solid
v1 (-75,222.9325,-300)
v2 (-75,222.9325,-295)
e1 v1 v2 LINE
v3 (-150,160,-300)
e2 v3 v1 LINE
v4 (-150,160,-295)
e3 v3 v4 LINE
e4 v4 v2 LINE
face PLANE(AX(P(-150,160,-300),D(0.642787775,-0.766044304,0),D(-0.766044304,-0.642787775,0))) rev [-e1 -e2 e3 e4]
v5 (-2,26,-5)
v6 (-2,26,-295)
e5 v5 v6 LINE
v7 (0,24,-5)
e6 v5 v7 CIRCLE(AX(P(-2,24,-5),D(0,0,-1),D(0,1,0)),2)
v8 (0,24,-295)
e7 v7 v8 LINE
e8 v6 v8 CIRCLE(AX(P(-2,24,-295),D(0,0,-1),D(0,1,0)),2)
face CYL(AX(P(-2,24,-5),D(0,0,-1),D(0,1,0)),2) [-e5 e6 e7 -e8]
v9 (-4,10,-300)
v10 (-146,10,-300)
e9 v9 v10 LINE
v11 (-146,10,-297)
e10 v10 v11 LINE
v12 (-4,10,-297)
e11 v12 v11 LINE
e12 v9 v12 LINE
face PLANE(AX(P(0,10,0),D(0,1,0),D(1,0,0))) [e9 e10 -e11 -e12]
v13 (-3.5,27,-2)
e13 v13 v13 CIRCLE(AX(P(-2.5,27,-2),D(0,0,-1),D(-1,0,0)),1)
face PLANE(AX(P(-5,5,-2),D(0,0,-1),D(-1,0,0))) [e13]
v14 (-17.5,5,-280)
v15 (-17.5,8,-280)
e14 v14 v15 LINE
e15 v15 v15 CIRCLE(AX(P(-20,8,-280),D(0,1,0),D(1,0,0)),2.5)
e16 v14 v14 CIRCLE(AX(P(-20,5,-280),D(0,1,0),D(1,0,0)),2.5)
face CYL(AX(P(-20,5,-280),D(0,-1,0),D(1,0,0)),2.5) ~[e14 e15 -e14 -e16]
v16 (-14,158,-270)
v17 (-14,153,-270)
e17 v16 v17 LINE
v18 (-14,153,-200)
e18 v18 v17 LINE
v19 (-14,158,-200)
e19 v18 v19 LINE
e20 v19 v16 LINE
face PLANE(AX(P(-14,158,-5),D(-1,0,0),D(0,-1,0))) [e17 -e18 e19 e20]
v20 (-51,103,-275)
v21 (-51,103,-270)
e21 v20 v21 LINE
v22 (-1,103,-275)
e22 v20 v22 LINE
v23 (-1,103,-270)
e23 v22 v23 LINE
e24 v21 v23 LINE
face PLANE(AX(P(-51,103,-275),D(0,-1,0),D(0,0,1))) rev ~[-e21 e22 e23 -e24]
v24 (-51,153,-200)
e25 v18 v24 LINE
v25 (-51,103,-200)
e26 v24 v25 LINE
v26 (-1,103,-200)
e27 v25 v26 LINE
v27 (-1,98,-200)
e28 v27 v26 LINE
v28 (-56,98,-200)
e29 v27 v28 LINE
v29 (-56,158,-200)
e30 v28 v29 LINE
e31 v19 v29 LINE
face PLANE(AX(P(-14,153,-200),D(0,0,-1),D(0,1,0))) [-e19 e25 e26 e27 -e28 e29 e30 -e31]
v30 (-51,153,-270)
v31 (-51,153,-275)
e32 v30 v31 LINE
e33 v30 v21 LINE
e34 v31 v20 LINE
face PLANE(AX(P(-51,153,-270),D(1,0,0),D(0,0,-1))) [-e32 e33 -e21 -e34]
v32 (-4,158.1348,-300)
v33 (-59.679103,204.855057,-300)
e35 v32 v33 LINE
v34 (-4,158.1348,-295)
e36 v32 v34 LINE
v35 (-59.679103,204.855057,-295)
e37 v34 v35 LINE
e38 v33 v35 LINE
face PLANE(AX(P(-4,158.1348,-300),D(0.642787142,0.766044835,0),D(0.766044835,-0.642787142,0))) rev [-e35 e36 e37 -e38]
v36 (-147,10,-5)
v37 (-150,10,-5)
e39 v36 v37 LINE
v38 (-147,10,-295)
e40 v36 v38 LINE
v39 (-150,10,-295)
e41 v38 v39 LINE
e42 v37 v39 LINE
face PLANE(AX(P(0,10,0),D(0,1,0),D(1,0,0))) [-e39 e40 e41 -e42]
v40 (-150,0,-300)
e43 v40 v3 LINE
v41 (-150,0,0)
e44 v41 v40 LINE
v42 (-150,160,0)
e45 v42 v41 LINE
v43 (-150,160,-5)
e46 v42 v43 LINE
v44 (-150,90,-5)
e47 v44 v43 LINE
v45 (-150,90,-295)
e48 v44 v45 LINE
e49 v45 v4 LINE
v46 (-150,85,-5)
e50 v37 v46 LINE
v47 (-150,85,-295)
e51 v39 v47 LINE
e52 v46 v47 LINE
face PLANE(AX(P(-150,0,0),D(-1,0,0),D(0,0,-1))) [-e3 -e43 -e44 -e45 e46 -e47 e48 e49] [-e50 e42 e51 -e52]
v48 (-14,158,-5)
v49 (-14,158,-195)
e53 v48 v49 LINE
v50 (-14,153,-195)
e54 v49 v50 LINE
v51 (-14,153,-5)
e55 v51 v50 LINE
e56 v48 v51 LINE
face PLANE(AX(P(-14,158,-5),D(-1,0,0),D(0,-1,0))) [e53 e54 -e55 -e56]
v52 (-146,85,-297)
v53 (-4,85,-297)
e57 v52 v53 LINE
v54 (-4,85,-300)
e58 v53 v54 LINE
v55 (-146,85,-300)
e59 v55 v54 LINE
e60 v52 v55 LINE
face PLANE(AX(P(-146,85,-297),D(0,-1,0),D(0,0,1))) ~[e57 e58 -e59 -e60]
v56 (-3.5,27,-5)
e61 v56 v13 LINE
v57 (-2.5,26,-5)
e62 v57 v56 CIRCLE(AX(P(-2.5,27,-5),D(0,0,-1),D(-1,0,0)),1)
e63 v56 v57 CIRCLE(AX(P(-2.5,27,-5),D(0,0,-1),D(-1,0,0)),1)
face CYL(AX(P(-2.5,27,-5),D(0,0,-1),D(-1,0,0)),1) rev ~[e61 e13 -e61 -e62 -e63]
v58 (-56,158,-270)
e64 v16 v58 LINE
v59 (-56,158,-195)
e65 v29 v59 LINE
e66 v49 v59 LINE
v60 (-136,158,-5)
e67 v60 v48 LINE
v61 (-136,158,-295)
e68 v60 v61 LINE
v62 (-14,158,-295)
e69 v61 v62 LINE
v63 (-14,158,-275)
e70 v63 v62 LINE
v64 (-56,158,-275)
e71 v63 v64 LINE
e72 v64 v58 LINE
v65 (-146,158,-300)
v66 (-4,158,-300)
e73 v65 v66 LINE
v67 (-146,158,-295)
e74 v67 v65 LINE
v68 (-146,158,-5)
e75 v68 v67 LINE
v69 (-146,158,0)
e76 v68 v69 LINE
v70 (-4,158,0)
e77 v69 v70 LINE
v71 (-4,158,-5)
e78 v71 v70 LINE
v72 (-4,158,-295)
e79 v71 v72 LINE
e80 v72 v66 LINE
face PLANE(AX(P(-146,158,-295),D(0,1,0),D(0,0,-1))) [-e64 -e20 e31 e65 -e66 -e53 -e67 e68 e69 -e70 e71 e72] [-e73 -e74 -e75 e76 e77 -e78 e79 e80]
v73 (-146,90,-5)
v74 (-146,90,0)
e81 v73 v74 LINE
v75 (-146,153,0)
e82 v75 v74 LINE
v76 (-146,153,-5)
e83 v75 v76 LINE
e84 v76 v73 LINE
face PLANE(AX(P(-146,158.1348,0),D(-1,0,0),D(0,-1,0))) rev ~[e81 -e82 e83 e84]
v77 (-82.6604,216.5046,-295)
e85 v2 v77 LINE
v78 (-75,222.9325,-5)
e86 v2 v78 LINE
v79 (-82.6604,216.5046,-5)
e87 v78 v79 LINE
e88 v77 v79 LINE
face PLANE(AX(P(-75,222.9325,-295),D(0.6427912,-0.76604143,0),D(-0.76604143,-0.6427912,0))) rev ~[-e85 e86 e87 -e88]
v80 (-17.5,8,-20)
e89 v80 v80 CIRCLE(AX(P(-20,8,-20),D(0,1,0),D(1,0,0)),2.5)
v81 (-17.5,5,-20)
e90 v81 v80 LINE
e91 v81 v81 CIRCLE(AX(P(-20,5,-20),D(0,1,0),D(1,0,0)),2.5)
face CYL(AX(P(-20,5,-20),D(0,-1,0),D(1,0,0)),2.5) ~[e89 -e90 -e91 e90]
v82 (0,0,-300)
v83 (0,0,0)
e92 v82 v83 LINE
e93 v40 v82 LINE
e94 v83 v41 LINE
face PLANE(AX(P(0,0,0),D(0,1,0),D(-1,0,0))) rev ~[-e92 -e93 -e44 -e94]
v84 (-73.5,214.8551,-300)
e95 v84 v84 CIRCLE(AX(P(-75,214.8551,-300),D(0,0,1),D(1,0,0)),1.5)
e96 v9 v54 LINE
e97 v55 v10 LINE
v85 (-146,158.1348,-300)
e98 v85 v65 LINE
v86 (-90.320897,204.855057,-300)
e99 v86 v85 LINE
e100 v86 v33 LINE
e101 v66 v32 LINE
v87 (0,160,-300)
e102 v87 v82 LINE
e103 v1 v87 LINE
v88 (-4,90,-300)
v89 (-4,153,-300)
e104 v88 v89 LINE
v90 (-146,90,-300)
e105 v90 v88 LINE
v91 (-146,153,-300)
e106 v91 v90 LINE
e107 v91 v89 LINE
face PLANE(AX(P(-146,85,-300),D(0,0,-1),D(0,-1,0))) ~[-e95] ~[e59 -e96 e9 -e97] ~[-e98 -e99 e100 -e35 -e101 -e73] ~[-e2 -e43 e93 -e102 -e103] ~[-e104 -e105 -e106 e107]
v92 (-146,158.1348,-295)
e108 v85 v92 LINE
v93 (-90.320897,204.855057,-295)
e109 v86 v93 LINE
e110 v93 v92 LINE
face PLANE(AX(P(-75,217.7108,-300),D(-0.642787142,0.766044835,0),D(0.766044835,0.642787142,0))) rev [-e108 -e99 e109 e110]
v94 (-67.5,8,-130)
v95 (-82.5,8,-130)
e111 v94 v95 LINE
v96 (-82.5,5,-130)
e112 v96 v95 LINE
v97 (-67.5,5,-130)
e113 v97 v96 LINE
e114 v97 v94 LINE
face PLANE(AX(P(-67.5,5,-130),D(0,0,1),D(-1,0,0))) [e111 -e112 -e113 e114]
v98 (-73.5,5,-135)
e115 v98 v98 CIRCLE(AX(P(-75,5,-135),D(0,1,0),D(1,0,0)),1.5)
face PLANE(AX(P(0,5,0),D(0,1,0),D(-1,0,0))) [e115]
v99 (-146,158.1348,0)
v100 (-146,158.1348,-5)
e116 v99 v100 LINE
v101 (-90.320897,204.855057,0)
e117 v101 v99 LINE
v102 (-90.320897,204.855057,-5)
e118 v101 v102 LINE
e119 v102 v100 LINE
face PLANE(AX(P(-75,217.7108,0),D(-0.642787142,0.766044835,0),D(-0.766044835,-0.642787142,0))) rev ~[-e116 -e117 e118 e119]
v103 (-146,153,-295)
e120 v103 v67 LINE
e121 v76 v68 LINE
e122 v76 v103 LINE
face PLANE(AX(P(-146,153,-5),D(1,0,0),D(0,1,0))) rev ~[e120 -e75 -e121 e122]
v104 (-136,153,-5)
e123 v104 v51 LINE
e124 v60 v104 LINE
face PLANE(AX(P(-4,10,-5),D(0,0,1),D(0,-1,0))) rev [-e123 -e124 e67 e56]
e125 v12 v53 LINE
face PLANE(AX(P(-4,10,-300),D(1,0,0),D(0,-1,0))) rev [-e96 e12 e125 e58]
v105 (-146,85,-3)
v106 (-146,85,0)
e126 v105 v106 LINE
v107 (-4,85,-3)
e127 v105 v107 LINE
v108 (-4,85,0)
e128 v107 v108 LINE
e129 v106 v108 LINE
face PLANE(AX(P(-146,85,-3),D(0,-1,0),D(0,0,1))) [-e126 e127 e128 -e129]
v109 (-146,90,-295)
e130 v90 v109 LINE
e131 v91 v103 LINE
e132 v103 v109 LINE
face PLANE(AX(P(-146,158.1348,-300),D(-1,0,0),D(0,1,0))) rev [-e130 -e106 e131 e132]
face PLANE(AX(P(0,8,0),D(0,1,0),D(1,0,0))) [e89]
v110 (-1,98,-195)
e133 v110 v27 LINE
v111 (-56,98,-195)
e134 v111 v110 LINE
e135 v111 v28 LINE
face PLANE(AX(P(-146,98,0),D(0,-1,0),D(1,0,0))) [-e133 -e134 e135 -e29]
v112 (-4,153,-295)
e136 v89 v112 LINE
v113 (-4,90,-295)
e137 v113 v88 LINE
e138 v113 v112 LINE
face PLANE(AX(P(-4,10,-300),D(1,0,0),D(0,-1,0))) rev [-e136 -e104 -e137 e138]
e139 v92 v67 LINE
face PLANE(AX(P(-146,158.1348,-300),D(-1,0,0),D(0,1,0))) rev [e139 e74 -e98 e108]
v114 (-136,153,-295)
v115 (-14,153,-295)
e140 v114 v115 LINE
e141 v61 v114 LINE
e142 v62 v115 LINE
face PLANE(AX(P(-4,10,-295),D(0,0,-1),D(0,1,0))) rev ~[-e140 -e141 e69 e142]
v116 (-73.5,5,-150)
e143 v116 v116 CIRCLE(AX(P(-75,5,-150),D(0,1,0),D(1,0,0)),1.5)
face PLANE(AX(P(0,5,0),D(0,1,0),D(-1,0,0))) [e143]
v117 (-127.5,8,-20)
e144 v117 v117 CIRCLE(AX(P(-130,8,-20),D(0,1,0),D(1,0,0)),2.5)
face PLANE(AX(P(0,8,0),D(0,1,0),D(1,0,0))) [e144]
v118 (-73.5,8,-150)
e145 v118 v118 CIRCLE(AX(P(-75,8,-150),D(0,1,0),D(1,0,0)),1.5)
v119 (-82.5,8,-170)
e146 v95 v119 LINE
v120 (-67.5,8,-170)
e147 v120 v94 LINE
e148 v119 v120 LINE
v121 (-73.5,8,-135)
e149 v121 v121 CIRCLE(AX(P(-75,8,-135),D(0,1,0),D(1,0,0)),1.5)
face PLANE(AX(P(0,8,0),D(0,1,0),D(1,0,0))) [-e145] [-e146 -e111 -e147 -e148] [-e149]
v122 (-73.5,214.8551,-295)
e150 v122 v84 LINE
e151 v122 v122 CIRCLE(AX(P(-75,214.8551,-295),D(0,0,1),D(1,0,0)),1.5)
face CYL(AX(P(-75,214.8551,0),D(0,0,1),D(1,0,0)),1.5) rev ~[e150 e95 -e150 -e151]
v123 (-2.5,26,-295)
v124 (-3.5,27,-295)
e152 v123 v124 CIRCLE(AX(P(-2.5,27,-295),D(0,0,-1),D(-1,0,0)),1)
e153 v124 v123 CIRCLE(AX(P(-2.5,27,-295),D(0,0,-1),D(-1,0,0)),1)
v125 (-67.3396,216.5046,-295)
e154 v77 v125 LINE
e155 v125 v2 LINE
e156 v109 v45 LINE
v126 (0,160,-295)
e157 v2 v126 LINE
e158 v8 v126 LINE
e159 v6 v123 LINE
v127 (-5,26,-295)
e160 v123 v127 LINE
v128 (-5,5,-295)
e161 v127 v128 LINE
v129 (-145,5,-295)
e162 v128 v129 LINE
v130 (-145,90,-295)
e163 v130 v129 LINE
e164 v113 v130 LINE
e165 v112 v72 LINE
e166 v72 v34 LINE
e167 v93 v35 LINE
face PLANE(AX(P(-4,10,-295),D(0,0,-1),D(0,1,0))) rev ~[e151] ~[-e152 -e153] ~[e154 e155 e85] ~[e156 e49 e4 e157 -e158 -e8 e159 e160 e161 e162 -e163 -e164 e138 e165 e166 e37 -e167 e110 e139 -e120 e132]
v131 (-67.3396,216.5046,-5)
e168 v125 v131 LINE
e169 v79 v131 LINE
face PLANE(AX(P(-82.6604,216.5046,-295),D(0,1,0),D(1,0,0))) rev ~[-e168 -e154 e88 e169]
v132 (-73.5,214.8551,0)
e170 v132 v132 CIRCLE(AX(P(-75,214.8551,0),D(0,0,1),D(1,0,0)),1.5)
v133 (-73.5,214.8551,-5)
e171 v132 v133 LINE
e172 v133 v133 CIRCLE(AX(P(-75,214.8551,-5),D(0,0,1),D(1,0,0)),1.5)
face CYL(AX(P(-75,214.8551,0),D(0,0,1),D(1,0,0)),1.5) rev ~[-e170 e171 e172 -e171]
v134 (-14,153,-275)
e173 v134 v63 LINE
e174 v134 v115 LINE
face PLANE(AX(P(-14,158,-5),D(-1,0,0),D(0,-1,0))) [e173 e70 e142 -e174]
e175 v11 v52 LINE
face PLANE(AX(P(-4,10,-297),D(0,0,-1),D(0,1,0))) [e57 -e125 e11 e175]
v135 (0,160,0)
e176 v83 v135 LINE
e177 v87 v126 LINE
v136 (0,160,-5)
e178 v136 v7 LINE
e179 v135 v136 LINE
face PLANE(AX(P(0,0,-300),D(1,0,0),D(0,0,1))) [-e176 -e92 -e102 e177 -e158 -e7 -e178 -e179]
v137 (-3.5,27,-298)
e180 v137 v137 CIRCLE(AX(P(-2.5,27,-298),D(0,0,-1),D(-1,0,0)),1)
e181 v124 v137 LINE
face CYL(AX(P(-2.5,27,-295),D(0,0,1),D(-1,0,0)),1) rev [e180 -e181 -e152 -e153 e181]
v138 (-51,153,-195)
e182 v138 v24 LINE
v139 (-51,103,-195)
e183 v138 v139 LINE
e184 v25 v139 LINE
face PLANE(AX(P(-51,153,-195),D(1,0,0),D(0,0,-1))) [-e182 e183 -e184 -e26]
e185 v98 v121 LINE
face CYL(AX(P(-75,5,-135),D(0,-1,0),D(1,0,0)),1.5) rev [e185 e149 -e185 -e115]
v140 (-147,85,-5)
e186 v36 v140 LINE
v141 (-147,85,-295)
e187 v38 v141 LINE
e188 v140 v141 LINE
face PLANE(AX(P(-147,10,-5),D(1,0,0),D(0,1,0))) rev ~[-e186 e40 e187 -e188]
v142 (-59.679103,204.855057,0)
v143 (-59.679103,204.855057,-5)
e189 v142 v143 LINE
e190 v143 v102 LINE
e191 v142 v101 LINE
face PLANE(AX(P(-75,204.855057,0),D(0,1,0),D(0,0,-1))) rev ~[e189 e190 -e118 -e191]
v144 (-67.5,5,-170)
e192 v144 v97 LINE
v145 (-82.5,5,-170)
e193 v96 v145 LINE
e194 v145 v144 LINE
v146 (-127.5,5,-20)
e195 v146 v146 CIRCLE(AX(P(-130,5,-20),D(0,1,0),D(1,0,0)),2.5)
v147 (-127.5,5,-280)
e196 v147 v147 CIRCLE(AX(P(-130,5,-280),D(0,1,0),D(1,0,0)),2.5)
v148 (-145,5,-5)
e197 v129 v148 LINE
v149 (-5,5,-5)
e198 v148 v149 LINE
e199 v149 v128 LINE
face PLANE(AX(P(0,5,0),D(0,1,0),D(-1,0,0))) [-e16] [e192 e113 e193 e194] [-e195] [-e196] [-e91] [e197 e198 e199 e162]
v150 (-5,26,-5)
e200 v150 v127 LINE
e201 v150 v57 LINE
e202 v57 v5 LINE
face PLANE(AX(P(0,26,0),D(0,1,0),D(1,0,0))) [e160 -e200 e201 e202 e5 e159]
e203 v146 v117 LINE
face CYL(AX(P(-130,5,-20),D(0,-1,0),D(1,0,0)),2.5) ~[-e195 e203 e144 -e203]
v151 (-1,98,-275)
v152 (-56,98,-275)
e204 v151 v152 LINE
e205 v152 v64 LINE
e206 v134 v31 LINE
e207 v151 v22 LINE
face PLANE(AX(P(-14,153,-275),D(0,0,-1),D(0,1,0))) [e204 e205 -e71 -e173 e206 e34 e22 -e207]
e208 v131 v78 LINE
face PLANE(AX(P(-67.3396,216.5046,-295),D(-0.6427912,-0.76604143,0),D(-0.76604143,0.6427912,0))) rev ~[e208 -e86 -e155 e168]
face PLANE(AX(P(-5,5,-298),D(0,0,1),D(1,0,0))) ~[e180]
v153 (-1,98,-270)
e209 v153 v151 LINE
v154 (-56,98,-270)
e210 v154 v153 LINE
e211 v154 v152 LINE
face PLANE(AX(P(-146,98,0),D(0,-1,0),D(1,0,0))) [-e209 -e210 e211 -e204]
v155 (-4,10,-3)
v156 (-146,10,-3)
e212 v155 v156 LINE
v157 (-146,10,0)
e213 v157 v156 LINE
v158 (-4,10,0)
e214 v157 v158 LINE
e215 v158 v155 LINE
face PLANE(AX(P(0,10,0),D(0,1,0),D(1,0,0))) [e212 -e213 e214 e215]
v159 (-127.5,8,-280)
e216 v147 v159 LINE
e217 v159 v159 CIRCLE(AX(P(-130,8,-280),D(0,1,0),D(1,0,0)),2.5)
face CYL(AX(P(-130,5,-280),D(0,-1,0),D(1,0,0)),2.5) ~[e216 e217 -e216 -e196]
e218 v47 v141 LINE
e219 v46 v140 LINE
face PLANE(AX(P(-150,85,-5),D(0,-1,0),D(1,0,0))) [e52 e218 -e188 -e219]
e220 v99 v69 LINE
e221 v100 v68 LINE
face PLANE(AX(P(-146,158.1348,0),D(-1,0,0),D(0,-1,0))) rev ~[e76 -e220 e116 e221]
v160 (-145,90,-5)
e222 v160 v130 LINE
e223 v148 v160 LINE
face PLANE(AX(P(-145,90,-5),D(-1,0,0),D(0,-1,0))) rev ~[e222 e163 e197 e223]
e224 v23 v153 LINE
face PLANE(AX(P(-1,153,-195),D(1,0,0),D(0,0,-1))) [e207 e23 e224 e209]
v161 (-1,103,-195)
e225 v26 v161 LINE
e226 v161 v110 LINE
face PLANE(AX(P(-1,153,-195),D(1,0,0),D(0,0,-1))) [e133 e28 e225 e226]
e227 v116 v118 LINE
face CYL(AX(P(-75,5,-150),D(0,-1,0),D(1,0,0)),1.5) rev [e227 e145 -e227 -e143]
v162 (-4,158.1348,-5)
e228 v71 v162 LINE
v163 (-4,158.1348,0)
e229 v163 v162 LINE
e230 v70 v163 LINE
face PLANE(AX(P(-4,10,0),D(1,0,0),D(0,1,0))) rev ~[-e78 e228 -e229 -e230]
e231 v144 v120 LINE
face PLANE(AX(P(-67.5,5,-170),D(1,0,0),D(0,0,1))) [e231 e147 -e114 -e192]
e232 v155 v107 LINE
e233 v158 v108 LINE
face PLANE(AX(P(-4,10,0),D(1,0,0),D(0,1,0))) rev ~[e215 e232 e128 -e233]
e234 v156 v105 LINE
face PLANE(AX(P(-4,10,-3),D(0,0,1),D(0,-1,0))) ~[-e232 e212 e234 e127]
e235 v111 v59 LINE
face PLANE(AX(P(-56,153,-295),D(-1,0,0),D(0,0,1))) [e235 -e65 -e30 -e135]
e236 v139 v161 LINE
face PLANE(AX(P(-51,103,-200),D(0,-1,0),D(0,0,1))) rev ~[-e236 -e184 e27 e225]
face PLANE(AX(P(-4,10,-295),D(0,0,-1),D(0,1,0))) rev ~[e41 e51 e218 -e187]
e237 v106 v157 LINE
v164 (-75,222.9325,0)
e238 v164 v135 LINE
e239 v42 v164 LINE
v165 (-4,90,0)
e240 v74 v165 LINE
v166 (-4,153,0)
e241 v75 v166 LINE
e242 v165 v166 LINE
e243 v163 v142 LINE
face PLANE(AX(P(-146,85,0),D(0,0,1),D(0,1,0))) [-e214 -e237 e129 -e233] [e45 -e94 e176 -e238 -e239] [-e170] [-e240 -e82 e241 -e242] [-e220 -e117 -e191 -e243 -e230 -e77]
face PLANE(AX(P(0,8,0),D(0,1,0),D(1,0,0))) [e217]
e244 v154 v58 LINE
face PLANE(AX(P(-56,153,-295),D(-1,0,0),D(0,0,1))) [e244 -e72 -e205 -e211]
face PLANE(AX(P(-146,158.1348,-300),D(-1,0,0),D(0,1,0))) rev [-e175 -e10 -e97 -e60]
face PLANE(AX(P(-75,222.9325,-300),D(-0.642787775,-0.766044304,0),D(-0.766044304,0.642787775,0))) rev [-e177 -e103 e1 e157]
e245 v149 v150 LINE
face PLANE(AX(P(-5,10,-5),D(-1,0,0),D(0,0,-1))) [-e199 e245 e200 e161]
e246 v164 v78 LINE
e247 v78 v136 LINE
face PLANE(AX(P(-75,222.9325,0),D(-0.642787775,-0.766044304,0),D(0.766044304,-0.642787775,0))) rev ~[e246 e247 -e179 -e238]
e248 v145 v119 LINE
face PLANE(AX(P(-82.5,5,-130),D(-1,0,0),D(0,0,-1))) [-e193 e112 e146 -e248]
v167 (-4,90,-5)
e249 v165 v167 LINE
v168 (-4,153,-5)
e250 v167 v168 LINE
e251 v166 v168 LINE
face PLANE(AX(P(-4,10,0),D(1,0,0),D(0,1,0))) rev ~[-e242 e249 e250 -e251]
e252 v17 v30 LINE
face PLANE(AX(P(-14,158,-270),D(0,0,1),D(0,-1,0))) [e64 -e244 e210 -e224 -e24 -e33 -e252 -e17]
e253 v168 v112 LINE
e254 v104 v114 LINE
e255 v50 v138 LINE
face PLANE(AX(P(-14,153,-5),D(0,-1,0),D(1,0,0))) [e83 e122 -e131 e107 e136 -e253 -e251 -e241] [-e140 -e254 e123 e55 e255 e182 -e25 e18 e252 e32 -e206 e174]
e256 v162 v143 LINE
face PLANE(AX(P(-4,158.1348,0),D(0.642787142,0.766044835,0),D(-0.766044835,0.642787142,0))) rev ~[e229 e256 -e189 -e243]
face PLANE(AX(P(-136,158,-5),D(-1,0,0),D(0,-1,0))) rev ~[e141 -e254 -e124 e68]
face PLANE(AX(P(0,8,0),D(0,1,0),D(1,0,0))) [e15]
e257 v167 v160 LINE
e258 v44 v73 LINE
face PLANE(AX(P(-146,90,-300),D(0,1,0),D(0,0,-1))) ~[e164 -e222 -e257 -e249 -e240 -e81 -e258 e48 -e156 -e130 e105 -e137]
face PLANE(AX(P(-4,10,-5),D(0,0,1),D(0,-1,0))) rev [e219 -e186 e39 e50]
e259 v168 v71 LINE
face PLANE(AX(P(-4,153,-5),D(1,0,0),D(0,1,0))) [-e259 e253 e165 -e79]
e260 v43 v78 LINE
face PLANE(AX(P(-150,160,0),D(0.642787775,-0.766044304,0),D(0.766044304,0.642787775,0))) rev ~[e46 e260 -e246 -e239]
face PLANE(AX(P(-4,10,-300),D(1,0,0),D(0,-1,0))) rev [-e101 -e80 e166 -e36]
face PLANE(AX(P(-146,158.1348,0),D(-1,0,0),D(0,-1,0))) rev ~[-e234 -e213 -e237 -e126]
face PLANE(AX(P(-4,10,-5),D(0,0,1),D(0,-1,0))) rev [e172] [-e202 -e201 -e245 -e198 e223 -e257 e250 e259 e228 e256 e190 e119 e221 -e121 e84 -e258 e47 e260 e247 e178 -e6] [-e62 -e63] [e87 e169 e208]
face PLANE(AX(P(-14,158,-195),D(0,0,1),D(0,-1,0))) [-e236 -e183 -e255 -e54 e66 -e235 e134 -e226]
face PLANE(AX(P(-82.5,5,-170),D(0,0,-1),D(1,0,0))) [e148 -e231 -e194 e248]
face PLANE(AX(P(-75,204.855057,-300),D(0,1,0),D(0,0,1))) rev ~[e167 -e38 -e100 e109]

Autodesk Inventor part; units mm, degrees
ref_plane "YZ Plane" through (0, 0, 0) normal (1, 0, 0) x (0, 1, 0)
ref_plane "XZ Plane" through (0, 0, 0) normal (0, 1, 0) x (-1, 0, 0)
sketch "Sketch1" plane through (0, 0, 0) normal (0, 1, 0) x (-1, 0, 0)
  line L0 (0, 0) -> (150, 0)
  line L1 (150, 0) -> (150, -300)
  line L2 (150, -300) -> (0, -300)
  line L3 (0, -300) -> (0, 0)
  dimension "d0" = 150
  dimension "d1" = 300
extrude "Extrusion1" add sketch "Sketch1" along normal blind 5
sketch "Sketch2" plane through (0, 5, 0) normal (0, 1, 0) x (1, 0, 0)
  line L0 (-150, 0) -> (0, 0) projected
  line L1 (0, 300) -> (-150, 300) projected
  line L2 (0, 0) -> (-150, 0)
  line L3 (-150, 0) -> (-150, 300)
  line L4 (-150, 300) -> (0, 300)
  line L5 (0, 300) -> (0, 0)
  line L6 (-145, 295) -> (-145, 5)
  line L7 (-145, 5) -> (-5, 5)
  line L8 (-5, 5) -> (-5, 295)
  line L9 (-5, 295) -> (-145, 295)
  line L10 (-5, 5) -> (-145, 5)
  line L11 (-145, 5) -> (-145, 295)
  line L12 (-145, 295) -> (-5, 295)
  line L13 (-5, 295) -> (-5, 5)
  line L14 (0, 0) -> (-150, 0)
  line L15 (-150, 0) -> (-150, 300)
  line L16 (-150, 300) -> (0, 300)
  line L17 (0, 300) -> (0, 0)
  point P0 (0, 300)
  point P1 (-150, 0)
  dimension "d4" = 5
extrude "Extrusion2" add sketch "Sketch2" along normal blind 5
sketch "Sketch3" plane through (-150, 0, 0) normal (0, 0, 1) x (1, 0, 0)
  line L0 (150, 10) -> (0, 10) projected
  line L1 (0, 10) -> (150, 10)
  line L2 (0, 10) -> (150, 10)
  line L3 (150, 10) -> (150, 160)
  line L4 (0, 10) -> (0, 160)
  line L5 (0, 160) -> (75, 222.9325)
  line L6 (75, 222.9325) -> (150, 160)
  line L7 (146, 10) -> (146, 158.1348)
  line L8 (146, 158.1348) -> (75, 217.7108)
  line L9 (75, 217.7108) -> (4, 158.1348)
  line L10 (4, 158.1348) -> (4, 10)
  line L11 (5, 10) -> (145, 10) projected
  line L12 (5, 10) -> (0, 10)
  line L13 (145, 10) -> (150, 10)
  point P0 (150, 0)
  dimension "d7" = 150
  dimension "d8" = 150
  dimension "d9" = 130
  dimension "d10" = 130
  dimension "d11" = 4
extrude "Extrusion3" add sketch "Sketch3" against normal blind 5 contours L0 L7 L8 L9 L10 L4 L5 L6 L3
ref_plane "Work Plane1" through (-150, 0, -150) normal (0, 0, 1) x (1, 0, 0)
mirror "Mirror1" about plane through (-150, 0, -150) normal (0, 0, 1) of "Extrusion3"
sketch "Sketch4" plane through (-150, 0, -5) normal (0, 0, -1) x (-1, 0, 0)
  line L0 (-145, 10) -> (-5, 10) projected
  line L1 (-5, 10) -> (-3, 10)
  line L2 (-3, 10) -> (-3, 90)
  line L3 (-3, 90) -> (-5, 90)
  line L4 (-5, 90) -> (-5, 10)
  point P0 (-150, 0)
  dimension "d14" = 2
  dimension "d15" = 80
extrude "Extrusion4" add sketch "Sketch4" along normal up to surface (290 mm away)
sketch "Sketch5" plane through (-4, 10, -300) normal (-1, 0, 0) x (0, 0, 1)
  line L0 (5, 0) -> (5, 80) projected
  line L1 (5, 0) -> (3, 0)
  line L2 (3, 0) -> (3, 80)
  line L3 (3, 80) -> (5, 80)
  line L4 (5, 80) -> (5, 0)
  point P0 (300, -10)
  point P1 (5, 80)
  dimension "d18" = 2
  dimension "d40" = 80
extrude "Extrusion5" add sketch "Sketch5" along normal up to surface (142 mm away)
mirror "Mirror2" about plane through (-150, 0, -150) normal (0, 0, 1) of "Extrusion5"
sketch "Sketch12" plane through (-146, 10, 0) normal (1, 0, 0) x (0, 0, -1)
  line L0 (3, 0) -> (3, 80) construction
  line L1 (3, 80) -> (3, 75)
  line L2 (3, 75) -> (0, 75)
  line L3 (0, 0) -> (0, 148.1348) construction
  line L4 (0, 75) -> (0, 80)
  line L5 (0, 80) -> (3, 80)
  point P0 (0, -10)
  dimension "d43" = 5
extrude "Extrusion10" add sketch "Sketch12" along normal up to surface (142 mm away)
mirror "Mirror4" about plane through (-150, 0, -150) normal (0, 0, 1) of "Extrusion10"
sketch "Sketch13" plane through (-5, 5, -5) normal (0, 0, -1) x (-1, 0, 0)
  line L0 (141, 85) -> (-1, 85) construction
  line L1 (145, -5) -> (145, 155) construction
  line L2 (141, 85) -> (145, 85)
  line L3 (145, 85) -> (145, 80)
  line L4 (145, 80) -> (141, 80)
  line L5 (141, 80) -> (141, 85)
  point P0 (-5, -5)
  dimension "d46" = 5
extrude "Extrusion11" add sketch "Sketch13" along normal up to surface (290 mm away)
chamfer "Chamfer1" distance 20 angle 45 1 edges at (-75, 217.7108, -297.5)
chamfer "Chamfer2" distance 20 angle 45 1 edges at (-75, 217.7108, -2.5)
sketch "Sketch16" plane through (-150, 0, 0) normal (0, 0, 1) x (1, 0, 0)
  circle A0 centre (75, 214.8551) radius 1.5
  line L0 (90.3209, 204.8551) -> (59.6791, 204.8551) projected
  point P0 (150, 0)
  point P1 (75, 204.8551)
  point P2 (75, 222.9325)
  dimension "d62" = 3
  dimension "d63" = 10
extrude "Extrusion14" cut sketch "Sketch16" against normal blind 310.0375
sketch "Sketch17" plane through (-145, 5, -295) normal (0, 0, 1) x (1, 0, 0)
  line L0 (145, 155) -> (70, 217.9325) construction
  line L1 (70, 217.9325) -> (62.3396, 211.5046)
  line L2 (70, 217.9325) -> (-5, 155) construction
  line L3 (62.3396, 211.5046) -> (77.6604, 211.5046)
  line L4 (77.6604, 211.5046) -> (70, 217.9325)
  point P0 (145, -5)
  dimension "d70" = 10
extrude "Extrusion15" add sketch "Sketch17" along normal up to surface (290 mm away)
sketch "Sketch19" plane through (-146, 158.1348, -295) normal (1, 0, 0) x (0, 0, -1)
  line L0 (5, 1.8652) -> (0, 1.8652) construction
  line L1 (0, 1.8652) -> (0, 58.3698) construction
  line L2 (0, 1.8652) -> (5, 1.8652) construction
  line L3 (0, 1.8652) -> (0, -0.1348) construction
  line L4 (0, -68.1348) -> (0, 1.8652) construction
  line L5 (0, -0.1348) -> (5, -0.1348) construction
  line L6 (5, -158.1348) -> (5, 1.8652) construction
  line L7 (5, 64.7977) -> (5, 1.8652) construction
  line L8 (5, -0.1348) -> (5, 1.8652) construction
  line L9 (0, -0.1348) -> (5, -0.1348)
  line L10 (5, -0.1348) -> (5, -5.1348)
  line L11 (5, -5.1348) -> (0, -5.1348)
  line L12 (0, -5.1348) -> (0, -0.1348)
  point P0 (-295, -158.1348)
  dimension "d77" = 2
  dimension "d78" = 5
extrude "Extrusion17" add sketch "Sketch19" along normal up to surface (142 mm away)
mirror "Mirror5" about plane through (-150, 0, -150) normal (0, 0, 1) of "Extrusion17"
sketch "Sketch20" plane through (-5, 5, -5) normal (0, 0, -1) x (-1, 0, 0)
  line L0 (141, 153) -> (-1, 153) construction
  line L1 (141, 148) -> (-1, 148) construction
  line L2 (-1, 153) -> (9, 153)
  line L3 (9, 153) -> (9, 148)
  line L4 (9, 148) -> (-1, 148)
  line L5 (-1, 148) -> (-1, 153)
  line L6 (131, 148) -> (141, 148)
  line L7 (141, 148) -> (141, 153)
  line L8 (141, 153) -> (131, 153)
  line L9 (131, 153) -> (131, 148)
  point P0 (-5, -5)
  dimension "d81" = 10
  dimension "d84" = 10
  dimension "d85" = 142
extrude "Extrusion18" add sketch "Sketch20" along normal up to surface (290 mm away)
sketch "Sketch21" plane through (-14, 153, -295) normal (-1, 0, 0) x (0, 0, 1)
  line L0 (290, 5) -> (0, 5) construction
  line L1 (290, 0) -> (0, 0) construction
  line L2 (20, 5) -> (25, 5)
  line L3 (25, 5) -> (25, 0)
  line L4 (25, 0) -> (20, 0)
  line L5 (20, 0) -> (20, 5)
  line L6 (95, 5) -> (100, 5)
  line L7 (100, 5) -> (100, 0)
  line L8 (100, 0) -> (95, 0)
  line L9 (95, 0) -> (95, 5)
  line L10 (0, 0) -> (290, 0) construction
  point P0 (295, -153)
  point P1 (145, 0)
  dimension "d86" = 5
  dimension "d87" = 5
  dimension "d88" = 80
  dimension "d96" = 20
extrude "Extrusion19" add sketch "Sketch21" along normal blind 42
sketch "Sketch22" plane through (-146, 153, 0) normal (0, -1, 0) x (1, 0, 0)
  line L0 (90, -195) -> (90, -200) projected
  line L1 (132, -200) -> (90, -200) construction
  line L2 (90, -195) -> (95, -195)
  line L3 (95, -195) -> (95, -200)
  line L4 (95, -200) -> (90, -200)
  line L5 (90, -200) -> (90, -195)
  line L6 (90, -270) -> (90, -275) projected
  line L7 (132, -275) -> (90, -275) construction
  line L8 (90, -270) -> (95, -270)
  line L9 (95, -270) -> (95, -275)
  line L10 (95, -275) -> (90, -275)
  line L11 (90, -275) -> (90, -270)
  point P0 (146, 0)
  dimension "d92" = 5
  dimension "d93" = 5
extrude "Extrusion20" add sketch "Sketch22" along normal blind 55
sketch "Sketch23" plane through (-51, 153, -195) normal (1, 0, 0) x (0, 0, -1)
  line L0 (0, 0) -> (0, -55) construction
  line L1 (5, 5) -> (5, -55) construction
  line L2 (0, -55) -> (5, -55)
  line L3 (5, -55) -> (5, -50)
  line L4 (5, -50) -> (0, -50)
  line L5 (0, -50) -> (0, -55)
  line L6 (75, 5) -> (75, -55) construction
  line L7 (80, 0) -> (80, -55) construction
  line L8 (75, -55) -> (80, -55)
  line L9 (80, -55) -> (80, -50)
  line L10 (80, -50) -> (75, -50)
  line L11 (75, -50) -> (75, -55)
  point P0 (-195, -153)
  dimension "d97" = 5
extrude "Extrusion21" add sketch "Sketch23" along normal blind 50
sketch "Sketch24" plane through (0, 10, 0) normal (0, 1, 0) x (1, 0, 0)
  line L0 (-5, 5) -> (-5, 295) projected
  line L1 (0, 0) -> (0, 300) construction
  line L2 (-5, 5) -> (0, 5)
  line L3 (0, 5) -> (0, 295)
  line L4 (0, 295) -> (-5, 295)
  line L5 (-5, 295) -> (-5, 5)
extrude "Extrusion22" add sketch "Sketch24" along normal blind 16
sketch "Sketch26" plane through (-5, 5, -5) normal (0, 0, -1) x (-1, 0, 0)
  circle A0 centre (-2.5, 22) radius 1
  line L0 (-5, 21) -> (0, 21) construction
  point P0 (-5, -5)
  point P1 (-2.5, 21)
  dimension "d103" = 2
extrude "Extrusion23" cut sketch "Sketch26" against normal blind 3
mirror "Mirror6" about plane through (-150, 0, -150) normal (0, 0, 1) of "Extrusion23"
fillet "Fillet1" radius 2 1 edges at (0, 26, -150)
sketch "Sketch27" plane through (0, 5, 0) normal (0, 1, 0) x (1, 0, 0)
  line L0 (-67.5, 130) -> (-82.5, 130)
  line L1 (-82.5, 130) -> (-82.5, 170)
  line L2 (-82.5, 170) -> (-67.5, 170)
  line L3 (-67.5, 170) -> (-67.5, 130)
  line L4 (-75, 300) -> (-75, 0) construction
  line L5 (-67.5, 130) -> (-82.5, 170) construction
  line L6 (-82.5, 130) -> (-67.5, 170) construction
  circle A0 centre (-75, 135) radius 1.5
  circle A1 centre (-75, 150) radius 1.5
  point P0 (0, 0)
  dimension "d107" = 15
  dimension "d108" = 40
  dimension "d111" = 3
  dimension "d112" = 3
  dimension "d113" = 15
  dimension "d114" = 5
extrude "Extrusion24" add sketch "Sketch27" along normal blind 3
sketch "Sketch28" plane through (0, 5, 0) normal (0, 1, 0) x (1, 0, 0)
  circle A0 centre (-20, 20) radius 2.5
  line L0 (0, 0) -> (0, 300) construction
  line L1 (-150, 0) -> (0, 0) construction
  line L2 (-150, 300) -> (-150, 0) construction
  line L3 (-150, 150) -> (0, 150) construction
  line L4 (-75, 0) -> (-75, 300) construction
  line L5 (0, 300) -> (-150, 300) construction
  circle A1 centre (-20, 280) radius 2.5
  circle A2 centre (-130, 20) radius 2.5
  circle A3 centre (-130, 280) radius 2.5
  dimension "d115" = 5
  dimension "d116" = 20
  dimension "d117" = 20
extrude "Extrusion25" add sketch "Sketch28" along normal blind 3
properties part number "estructuragen" material "Steel"
